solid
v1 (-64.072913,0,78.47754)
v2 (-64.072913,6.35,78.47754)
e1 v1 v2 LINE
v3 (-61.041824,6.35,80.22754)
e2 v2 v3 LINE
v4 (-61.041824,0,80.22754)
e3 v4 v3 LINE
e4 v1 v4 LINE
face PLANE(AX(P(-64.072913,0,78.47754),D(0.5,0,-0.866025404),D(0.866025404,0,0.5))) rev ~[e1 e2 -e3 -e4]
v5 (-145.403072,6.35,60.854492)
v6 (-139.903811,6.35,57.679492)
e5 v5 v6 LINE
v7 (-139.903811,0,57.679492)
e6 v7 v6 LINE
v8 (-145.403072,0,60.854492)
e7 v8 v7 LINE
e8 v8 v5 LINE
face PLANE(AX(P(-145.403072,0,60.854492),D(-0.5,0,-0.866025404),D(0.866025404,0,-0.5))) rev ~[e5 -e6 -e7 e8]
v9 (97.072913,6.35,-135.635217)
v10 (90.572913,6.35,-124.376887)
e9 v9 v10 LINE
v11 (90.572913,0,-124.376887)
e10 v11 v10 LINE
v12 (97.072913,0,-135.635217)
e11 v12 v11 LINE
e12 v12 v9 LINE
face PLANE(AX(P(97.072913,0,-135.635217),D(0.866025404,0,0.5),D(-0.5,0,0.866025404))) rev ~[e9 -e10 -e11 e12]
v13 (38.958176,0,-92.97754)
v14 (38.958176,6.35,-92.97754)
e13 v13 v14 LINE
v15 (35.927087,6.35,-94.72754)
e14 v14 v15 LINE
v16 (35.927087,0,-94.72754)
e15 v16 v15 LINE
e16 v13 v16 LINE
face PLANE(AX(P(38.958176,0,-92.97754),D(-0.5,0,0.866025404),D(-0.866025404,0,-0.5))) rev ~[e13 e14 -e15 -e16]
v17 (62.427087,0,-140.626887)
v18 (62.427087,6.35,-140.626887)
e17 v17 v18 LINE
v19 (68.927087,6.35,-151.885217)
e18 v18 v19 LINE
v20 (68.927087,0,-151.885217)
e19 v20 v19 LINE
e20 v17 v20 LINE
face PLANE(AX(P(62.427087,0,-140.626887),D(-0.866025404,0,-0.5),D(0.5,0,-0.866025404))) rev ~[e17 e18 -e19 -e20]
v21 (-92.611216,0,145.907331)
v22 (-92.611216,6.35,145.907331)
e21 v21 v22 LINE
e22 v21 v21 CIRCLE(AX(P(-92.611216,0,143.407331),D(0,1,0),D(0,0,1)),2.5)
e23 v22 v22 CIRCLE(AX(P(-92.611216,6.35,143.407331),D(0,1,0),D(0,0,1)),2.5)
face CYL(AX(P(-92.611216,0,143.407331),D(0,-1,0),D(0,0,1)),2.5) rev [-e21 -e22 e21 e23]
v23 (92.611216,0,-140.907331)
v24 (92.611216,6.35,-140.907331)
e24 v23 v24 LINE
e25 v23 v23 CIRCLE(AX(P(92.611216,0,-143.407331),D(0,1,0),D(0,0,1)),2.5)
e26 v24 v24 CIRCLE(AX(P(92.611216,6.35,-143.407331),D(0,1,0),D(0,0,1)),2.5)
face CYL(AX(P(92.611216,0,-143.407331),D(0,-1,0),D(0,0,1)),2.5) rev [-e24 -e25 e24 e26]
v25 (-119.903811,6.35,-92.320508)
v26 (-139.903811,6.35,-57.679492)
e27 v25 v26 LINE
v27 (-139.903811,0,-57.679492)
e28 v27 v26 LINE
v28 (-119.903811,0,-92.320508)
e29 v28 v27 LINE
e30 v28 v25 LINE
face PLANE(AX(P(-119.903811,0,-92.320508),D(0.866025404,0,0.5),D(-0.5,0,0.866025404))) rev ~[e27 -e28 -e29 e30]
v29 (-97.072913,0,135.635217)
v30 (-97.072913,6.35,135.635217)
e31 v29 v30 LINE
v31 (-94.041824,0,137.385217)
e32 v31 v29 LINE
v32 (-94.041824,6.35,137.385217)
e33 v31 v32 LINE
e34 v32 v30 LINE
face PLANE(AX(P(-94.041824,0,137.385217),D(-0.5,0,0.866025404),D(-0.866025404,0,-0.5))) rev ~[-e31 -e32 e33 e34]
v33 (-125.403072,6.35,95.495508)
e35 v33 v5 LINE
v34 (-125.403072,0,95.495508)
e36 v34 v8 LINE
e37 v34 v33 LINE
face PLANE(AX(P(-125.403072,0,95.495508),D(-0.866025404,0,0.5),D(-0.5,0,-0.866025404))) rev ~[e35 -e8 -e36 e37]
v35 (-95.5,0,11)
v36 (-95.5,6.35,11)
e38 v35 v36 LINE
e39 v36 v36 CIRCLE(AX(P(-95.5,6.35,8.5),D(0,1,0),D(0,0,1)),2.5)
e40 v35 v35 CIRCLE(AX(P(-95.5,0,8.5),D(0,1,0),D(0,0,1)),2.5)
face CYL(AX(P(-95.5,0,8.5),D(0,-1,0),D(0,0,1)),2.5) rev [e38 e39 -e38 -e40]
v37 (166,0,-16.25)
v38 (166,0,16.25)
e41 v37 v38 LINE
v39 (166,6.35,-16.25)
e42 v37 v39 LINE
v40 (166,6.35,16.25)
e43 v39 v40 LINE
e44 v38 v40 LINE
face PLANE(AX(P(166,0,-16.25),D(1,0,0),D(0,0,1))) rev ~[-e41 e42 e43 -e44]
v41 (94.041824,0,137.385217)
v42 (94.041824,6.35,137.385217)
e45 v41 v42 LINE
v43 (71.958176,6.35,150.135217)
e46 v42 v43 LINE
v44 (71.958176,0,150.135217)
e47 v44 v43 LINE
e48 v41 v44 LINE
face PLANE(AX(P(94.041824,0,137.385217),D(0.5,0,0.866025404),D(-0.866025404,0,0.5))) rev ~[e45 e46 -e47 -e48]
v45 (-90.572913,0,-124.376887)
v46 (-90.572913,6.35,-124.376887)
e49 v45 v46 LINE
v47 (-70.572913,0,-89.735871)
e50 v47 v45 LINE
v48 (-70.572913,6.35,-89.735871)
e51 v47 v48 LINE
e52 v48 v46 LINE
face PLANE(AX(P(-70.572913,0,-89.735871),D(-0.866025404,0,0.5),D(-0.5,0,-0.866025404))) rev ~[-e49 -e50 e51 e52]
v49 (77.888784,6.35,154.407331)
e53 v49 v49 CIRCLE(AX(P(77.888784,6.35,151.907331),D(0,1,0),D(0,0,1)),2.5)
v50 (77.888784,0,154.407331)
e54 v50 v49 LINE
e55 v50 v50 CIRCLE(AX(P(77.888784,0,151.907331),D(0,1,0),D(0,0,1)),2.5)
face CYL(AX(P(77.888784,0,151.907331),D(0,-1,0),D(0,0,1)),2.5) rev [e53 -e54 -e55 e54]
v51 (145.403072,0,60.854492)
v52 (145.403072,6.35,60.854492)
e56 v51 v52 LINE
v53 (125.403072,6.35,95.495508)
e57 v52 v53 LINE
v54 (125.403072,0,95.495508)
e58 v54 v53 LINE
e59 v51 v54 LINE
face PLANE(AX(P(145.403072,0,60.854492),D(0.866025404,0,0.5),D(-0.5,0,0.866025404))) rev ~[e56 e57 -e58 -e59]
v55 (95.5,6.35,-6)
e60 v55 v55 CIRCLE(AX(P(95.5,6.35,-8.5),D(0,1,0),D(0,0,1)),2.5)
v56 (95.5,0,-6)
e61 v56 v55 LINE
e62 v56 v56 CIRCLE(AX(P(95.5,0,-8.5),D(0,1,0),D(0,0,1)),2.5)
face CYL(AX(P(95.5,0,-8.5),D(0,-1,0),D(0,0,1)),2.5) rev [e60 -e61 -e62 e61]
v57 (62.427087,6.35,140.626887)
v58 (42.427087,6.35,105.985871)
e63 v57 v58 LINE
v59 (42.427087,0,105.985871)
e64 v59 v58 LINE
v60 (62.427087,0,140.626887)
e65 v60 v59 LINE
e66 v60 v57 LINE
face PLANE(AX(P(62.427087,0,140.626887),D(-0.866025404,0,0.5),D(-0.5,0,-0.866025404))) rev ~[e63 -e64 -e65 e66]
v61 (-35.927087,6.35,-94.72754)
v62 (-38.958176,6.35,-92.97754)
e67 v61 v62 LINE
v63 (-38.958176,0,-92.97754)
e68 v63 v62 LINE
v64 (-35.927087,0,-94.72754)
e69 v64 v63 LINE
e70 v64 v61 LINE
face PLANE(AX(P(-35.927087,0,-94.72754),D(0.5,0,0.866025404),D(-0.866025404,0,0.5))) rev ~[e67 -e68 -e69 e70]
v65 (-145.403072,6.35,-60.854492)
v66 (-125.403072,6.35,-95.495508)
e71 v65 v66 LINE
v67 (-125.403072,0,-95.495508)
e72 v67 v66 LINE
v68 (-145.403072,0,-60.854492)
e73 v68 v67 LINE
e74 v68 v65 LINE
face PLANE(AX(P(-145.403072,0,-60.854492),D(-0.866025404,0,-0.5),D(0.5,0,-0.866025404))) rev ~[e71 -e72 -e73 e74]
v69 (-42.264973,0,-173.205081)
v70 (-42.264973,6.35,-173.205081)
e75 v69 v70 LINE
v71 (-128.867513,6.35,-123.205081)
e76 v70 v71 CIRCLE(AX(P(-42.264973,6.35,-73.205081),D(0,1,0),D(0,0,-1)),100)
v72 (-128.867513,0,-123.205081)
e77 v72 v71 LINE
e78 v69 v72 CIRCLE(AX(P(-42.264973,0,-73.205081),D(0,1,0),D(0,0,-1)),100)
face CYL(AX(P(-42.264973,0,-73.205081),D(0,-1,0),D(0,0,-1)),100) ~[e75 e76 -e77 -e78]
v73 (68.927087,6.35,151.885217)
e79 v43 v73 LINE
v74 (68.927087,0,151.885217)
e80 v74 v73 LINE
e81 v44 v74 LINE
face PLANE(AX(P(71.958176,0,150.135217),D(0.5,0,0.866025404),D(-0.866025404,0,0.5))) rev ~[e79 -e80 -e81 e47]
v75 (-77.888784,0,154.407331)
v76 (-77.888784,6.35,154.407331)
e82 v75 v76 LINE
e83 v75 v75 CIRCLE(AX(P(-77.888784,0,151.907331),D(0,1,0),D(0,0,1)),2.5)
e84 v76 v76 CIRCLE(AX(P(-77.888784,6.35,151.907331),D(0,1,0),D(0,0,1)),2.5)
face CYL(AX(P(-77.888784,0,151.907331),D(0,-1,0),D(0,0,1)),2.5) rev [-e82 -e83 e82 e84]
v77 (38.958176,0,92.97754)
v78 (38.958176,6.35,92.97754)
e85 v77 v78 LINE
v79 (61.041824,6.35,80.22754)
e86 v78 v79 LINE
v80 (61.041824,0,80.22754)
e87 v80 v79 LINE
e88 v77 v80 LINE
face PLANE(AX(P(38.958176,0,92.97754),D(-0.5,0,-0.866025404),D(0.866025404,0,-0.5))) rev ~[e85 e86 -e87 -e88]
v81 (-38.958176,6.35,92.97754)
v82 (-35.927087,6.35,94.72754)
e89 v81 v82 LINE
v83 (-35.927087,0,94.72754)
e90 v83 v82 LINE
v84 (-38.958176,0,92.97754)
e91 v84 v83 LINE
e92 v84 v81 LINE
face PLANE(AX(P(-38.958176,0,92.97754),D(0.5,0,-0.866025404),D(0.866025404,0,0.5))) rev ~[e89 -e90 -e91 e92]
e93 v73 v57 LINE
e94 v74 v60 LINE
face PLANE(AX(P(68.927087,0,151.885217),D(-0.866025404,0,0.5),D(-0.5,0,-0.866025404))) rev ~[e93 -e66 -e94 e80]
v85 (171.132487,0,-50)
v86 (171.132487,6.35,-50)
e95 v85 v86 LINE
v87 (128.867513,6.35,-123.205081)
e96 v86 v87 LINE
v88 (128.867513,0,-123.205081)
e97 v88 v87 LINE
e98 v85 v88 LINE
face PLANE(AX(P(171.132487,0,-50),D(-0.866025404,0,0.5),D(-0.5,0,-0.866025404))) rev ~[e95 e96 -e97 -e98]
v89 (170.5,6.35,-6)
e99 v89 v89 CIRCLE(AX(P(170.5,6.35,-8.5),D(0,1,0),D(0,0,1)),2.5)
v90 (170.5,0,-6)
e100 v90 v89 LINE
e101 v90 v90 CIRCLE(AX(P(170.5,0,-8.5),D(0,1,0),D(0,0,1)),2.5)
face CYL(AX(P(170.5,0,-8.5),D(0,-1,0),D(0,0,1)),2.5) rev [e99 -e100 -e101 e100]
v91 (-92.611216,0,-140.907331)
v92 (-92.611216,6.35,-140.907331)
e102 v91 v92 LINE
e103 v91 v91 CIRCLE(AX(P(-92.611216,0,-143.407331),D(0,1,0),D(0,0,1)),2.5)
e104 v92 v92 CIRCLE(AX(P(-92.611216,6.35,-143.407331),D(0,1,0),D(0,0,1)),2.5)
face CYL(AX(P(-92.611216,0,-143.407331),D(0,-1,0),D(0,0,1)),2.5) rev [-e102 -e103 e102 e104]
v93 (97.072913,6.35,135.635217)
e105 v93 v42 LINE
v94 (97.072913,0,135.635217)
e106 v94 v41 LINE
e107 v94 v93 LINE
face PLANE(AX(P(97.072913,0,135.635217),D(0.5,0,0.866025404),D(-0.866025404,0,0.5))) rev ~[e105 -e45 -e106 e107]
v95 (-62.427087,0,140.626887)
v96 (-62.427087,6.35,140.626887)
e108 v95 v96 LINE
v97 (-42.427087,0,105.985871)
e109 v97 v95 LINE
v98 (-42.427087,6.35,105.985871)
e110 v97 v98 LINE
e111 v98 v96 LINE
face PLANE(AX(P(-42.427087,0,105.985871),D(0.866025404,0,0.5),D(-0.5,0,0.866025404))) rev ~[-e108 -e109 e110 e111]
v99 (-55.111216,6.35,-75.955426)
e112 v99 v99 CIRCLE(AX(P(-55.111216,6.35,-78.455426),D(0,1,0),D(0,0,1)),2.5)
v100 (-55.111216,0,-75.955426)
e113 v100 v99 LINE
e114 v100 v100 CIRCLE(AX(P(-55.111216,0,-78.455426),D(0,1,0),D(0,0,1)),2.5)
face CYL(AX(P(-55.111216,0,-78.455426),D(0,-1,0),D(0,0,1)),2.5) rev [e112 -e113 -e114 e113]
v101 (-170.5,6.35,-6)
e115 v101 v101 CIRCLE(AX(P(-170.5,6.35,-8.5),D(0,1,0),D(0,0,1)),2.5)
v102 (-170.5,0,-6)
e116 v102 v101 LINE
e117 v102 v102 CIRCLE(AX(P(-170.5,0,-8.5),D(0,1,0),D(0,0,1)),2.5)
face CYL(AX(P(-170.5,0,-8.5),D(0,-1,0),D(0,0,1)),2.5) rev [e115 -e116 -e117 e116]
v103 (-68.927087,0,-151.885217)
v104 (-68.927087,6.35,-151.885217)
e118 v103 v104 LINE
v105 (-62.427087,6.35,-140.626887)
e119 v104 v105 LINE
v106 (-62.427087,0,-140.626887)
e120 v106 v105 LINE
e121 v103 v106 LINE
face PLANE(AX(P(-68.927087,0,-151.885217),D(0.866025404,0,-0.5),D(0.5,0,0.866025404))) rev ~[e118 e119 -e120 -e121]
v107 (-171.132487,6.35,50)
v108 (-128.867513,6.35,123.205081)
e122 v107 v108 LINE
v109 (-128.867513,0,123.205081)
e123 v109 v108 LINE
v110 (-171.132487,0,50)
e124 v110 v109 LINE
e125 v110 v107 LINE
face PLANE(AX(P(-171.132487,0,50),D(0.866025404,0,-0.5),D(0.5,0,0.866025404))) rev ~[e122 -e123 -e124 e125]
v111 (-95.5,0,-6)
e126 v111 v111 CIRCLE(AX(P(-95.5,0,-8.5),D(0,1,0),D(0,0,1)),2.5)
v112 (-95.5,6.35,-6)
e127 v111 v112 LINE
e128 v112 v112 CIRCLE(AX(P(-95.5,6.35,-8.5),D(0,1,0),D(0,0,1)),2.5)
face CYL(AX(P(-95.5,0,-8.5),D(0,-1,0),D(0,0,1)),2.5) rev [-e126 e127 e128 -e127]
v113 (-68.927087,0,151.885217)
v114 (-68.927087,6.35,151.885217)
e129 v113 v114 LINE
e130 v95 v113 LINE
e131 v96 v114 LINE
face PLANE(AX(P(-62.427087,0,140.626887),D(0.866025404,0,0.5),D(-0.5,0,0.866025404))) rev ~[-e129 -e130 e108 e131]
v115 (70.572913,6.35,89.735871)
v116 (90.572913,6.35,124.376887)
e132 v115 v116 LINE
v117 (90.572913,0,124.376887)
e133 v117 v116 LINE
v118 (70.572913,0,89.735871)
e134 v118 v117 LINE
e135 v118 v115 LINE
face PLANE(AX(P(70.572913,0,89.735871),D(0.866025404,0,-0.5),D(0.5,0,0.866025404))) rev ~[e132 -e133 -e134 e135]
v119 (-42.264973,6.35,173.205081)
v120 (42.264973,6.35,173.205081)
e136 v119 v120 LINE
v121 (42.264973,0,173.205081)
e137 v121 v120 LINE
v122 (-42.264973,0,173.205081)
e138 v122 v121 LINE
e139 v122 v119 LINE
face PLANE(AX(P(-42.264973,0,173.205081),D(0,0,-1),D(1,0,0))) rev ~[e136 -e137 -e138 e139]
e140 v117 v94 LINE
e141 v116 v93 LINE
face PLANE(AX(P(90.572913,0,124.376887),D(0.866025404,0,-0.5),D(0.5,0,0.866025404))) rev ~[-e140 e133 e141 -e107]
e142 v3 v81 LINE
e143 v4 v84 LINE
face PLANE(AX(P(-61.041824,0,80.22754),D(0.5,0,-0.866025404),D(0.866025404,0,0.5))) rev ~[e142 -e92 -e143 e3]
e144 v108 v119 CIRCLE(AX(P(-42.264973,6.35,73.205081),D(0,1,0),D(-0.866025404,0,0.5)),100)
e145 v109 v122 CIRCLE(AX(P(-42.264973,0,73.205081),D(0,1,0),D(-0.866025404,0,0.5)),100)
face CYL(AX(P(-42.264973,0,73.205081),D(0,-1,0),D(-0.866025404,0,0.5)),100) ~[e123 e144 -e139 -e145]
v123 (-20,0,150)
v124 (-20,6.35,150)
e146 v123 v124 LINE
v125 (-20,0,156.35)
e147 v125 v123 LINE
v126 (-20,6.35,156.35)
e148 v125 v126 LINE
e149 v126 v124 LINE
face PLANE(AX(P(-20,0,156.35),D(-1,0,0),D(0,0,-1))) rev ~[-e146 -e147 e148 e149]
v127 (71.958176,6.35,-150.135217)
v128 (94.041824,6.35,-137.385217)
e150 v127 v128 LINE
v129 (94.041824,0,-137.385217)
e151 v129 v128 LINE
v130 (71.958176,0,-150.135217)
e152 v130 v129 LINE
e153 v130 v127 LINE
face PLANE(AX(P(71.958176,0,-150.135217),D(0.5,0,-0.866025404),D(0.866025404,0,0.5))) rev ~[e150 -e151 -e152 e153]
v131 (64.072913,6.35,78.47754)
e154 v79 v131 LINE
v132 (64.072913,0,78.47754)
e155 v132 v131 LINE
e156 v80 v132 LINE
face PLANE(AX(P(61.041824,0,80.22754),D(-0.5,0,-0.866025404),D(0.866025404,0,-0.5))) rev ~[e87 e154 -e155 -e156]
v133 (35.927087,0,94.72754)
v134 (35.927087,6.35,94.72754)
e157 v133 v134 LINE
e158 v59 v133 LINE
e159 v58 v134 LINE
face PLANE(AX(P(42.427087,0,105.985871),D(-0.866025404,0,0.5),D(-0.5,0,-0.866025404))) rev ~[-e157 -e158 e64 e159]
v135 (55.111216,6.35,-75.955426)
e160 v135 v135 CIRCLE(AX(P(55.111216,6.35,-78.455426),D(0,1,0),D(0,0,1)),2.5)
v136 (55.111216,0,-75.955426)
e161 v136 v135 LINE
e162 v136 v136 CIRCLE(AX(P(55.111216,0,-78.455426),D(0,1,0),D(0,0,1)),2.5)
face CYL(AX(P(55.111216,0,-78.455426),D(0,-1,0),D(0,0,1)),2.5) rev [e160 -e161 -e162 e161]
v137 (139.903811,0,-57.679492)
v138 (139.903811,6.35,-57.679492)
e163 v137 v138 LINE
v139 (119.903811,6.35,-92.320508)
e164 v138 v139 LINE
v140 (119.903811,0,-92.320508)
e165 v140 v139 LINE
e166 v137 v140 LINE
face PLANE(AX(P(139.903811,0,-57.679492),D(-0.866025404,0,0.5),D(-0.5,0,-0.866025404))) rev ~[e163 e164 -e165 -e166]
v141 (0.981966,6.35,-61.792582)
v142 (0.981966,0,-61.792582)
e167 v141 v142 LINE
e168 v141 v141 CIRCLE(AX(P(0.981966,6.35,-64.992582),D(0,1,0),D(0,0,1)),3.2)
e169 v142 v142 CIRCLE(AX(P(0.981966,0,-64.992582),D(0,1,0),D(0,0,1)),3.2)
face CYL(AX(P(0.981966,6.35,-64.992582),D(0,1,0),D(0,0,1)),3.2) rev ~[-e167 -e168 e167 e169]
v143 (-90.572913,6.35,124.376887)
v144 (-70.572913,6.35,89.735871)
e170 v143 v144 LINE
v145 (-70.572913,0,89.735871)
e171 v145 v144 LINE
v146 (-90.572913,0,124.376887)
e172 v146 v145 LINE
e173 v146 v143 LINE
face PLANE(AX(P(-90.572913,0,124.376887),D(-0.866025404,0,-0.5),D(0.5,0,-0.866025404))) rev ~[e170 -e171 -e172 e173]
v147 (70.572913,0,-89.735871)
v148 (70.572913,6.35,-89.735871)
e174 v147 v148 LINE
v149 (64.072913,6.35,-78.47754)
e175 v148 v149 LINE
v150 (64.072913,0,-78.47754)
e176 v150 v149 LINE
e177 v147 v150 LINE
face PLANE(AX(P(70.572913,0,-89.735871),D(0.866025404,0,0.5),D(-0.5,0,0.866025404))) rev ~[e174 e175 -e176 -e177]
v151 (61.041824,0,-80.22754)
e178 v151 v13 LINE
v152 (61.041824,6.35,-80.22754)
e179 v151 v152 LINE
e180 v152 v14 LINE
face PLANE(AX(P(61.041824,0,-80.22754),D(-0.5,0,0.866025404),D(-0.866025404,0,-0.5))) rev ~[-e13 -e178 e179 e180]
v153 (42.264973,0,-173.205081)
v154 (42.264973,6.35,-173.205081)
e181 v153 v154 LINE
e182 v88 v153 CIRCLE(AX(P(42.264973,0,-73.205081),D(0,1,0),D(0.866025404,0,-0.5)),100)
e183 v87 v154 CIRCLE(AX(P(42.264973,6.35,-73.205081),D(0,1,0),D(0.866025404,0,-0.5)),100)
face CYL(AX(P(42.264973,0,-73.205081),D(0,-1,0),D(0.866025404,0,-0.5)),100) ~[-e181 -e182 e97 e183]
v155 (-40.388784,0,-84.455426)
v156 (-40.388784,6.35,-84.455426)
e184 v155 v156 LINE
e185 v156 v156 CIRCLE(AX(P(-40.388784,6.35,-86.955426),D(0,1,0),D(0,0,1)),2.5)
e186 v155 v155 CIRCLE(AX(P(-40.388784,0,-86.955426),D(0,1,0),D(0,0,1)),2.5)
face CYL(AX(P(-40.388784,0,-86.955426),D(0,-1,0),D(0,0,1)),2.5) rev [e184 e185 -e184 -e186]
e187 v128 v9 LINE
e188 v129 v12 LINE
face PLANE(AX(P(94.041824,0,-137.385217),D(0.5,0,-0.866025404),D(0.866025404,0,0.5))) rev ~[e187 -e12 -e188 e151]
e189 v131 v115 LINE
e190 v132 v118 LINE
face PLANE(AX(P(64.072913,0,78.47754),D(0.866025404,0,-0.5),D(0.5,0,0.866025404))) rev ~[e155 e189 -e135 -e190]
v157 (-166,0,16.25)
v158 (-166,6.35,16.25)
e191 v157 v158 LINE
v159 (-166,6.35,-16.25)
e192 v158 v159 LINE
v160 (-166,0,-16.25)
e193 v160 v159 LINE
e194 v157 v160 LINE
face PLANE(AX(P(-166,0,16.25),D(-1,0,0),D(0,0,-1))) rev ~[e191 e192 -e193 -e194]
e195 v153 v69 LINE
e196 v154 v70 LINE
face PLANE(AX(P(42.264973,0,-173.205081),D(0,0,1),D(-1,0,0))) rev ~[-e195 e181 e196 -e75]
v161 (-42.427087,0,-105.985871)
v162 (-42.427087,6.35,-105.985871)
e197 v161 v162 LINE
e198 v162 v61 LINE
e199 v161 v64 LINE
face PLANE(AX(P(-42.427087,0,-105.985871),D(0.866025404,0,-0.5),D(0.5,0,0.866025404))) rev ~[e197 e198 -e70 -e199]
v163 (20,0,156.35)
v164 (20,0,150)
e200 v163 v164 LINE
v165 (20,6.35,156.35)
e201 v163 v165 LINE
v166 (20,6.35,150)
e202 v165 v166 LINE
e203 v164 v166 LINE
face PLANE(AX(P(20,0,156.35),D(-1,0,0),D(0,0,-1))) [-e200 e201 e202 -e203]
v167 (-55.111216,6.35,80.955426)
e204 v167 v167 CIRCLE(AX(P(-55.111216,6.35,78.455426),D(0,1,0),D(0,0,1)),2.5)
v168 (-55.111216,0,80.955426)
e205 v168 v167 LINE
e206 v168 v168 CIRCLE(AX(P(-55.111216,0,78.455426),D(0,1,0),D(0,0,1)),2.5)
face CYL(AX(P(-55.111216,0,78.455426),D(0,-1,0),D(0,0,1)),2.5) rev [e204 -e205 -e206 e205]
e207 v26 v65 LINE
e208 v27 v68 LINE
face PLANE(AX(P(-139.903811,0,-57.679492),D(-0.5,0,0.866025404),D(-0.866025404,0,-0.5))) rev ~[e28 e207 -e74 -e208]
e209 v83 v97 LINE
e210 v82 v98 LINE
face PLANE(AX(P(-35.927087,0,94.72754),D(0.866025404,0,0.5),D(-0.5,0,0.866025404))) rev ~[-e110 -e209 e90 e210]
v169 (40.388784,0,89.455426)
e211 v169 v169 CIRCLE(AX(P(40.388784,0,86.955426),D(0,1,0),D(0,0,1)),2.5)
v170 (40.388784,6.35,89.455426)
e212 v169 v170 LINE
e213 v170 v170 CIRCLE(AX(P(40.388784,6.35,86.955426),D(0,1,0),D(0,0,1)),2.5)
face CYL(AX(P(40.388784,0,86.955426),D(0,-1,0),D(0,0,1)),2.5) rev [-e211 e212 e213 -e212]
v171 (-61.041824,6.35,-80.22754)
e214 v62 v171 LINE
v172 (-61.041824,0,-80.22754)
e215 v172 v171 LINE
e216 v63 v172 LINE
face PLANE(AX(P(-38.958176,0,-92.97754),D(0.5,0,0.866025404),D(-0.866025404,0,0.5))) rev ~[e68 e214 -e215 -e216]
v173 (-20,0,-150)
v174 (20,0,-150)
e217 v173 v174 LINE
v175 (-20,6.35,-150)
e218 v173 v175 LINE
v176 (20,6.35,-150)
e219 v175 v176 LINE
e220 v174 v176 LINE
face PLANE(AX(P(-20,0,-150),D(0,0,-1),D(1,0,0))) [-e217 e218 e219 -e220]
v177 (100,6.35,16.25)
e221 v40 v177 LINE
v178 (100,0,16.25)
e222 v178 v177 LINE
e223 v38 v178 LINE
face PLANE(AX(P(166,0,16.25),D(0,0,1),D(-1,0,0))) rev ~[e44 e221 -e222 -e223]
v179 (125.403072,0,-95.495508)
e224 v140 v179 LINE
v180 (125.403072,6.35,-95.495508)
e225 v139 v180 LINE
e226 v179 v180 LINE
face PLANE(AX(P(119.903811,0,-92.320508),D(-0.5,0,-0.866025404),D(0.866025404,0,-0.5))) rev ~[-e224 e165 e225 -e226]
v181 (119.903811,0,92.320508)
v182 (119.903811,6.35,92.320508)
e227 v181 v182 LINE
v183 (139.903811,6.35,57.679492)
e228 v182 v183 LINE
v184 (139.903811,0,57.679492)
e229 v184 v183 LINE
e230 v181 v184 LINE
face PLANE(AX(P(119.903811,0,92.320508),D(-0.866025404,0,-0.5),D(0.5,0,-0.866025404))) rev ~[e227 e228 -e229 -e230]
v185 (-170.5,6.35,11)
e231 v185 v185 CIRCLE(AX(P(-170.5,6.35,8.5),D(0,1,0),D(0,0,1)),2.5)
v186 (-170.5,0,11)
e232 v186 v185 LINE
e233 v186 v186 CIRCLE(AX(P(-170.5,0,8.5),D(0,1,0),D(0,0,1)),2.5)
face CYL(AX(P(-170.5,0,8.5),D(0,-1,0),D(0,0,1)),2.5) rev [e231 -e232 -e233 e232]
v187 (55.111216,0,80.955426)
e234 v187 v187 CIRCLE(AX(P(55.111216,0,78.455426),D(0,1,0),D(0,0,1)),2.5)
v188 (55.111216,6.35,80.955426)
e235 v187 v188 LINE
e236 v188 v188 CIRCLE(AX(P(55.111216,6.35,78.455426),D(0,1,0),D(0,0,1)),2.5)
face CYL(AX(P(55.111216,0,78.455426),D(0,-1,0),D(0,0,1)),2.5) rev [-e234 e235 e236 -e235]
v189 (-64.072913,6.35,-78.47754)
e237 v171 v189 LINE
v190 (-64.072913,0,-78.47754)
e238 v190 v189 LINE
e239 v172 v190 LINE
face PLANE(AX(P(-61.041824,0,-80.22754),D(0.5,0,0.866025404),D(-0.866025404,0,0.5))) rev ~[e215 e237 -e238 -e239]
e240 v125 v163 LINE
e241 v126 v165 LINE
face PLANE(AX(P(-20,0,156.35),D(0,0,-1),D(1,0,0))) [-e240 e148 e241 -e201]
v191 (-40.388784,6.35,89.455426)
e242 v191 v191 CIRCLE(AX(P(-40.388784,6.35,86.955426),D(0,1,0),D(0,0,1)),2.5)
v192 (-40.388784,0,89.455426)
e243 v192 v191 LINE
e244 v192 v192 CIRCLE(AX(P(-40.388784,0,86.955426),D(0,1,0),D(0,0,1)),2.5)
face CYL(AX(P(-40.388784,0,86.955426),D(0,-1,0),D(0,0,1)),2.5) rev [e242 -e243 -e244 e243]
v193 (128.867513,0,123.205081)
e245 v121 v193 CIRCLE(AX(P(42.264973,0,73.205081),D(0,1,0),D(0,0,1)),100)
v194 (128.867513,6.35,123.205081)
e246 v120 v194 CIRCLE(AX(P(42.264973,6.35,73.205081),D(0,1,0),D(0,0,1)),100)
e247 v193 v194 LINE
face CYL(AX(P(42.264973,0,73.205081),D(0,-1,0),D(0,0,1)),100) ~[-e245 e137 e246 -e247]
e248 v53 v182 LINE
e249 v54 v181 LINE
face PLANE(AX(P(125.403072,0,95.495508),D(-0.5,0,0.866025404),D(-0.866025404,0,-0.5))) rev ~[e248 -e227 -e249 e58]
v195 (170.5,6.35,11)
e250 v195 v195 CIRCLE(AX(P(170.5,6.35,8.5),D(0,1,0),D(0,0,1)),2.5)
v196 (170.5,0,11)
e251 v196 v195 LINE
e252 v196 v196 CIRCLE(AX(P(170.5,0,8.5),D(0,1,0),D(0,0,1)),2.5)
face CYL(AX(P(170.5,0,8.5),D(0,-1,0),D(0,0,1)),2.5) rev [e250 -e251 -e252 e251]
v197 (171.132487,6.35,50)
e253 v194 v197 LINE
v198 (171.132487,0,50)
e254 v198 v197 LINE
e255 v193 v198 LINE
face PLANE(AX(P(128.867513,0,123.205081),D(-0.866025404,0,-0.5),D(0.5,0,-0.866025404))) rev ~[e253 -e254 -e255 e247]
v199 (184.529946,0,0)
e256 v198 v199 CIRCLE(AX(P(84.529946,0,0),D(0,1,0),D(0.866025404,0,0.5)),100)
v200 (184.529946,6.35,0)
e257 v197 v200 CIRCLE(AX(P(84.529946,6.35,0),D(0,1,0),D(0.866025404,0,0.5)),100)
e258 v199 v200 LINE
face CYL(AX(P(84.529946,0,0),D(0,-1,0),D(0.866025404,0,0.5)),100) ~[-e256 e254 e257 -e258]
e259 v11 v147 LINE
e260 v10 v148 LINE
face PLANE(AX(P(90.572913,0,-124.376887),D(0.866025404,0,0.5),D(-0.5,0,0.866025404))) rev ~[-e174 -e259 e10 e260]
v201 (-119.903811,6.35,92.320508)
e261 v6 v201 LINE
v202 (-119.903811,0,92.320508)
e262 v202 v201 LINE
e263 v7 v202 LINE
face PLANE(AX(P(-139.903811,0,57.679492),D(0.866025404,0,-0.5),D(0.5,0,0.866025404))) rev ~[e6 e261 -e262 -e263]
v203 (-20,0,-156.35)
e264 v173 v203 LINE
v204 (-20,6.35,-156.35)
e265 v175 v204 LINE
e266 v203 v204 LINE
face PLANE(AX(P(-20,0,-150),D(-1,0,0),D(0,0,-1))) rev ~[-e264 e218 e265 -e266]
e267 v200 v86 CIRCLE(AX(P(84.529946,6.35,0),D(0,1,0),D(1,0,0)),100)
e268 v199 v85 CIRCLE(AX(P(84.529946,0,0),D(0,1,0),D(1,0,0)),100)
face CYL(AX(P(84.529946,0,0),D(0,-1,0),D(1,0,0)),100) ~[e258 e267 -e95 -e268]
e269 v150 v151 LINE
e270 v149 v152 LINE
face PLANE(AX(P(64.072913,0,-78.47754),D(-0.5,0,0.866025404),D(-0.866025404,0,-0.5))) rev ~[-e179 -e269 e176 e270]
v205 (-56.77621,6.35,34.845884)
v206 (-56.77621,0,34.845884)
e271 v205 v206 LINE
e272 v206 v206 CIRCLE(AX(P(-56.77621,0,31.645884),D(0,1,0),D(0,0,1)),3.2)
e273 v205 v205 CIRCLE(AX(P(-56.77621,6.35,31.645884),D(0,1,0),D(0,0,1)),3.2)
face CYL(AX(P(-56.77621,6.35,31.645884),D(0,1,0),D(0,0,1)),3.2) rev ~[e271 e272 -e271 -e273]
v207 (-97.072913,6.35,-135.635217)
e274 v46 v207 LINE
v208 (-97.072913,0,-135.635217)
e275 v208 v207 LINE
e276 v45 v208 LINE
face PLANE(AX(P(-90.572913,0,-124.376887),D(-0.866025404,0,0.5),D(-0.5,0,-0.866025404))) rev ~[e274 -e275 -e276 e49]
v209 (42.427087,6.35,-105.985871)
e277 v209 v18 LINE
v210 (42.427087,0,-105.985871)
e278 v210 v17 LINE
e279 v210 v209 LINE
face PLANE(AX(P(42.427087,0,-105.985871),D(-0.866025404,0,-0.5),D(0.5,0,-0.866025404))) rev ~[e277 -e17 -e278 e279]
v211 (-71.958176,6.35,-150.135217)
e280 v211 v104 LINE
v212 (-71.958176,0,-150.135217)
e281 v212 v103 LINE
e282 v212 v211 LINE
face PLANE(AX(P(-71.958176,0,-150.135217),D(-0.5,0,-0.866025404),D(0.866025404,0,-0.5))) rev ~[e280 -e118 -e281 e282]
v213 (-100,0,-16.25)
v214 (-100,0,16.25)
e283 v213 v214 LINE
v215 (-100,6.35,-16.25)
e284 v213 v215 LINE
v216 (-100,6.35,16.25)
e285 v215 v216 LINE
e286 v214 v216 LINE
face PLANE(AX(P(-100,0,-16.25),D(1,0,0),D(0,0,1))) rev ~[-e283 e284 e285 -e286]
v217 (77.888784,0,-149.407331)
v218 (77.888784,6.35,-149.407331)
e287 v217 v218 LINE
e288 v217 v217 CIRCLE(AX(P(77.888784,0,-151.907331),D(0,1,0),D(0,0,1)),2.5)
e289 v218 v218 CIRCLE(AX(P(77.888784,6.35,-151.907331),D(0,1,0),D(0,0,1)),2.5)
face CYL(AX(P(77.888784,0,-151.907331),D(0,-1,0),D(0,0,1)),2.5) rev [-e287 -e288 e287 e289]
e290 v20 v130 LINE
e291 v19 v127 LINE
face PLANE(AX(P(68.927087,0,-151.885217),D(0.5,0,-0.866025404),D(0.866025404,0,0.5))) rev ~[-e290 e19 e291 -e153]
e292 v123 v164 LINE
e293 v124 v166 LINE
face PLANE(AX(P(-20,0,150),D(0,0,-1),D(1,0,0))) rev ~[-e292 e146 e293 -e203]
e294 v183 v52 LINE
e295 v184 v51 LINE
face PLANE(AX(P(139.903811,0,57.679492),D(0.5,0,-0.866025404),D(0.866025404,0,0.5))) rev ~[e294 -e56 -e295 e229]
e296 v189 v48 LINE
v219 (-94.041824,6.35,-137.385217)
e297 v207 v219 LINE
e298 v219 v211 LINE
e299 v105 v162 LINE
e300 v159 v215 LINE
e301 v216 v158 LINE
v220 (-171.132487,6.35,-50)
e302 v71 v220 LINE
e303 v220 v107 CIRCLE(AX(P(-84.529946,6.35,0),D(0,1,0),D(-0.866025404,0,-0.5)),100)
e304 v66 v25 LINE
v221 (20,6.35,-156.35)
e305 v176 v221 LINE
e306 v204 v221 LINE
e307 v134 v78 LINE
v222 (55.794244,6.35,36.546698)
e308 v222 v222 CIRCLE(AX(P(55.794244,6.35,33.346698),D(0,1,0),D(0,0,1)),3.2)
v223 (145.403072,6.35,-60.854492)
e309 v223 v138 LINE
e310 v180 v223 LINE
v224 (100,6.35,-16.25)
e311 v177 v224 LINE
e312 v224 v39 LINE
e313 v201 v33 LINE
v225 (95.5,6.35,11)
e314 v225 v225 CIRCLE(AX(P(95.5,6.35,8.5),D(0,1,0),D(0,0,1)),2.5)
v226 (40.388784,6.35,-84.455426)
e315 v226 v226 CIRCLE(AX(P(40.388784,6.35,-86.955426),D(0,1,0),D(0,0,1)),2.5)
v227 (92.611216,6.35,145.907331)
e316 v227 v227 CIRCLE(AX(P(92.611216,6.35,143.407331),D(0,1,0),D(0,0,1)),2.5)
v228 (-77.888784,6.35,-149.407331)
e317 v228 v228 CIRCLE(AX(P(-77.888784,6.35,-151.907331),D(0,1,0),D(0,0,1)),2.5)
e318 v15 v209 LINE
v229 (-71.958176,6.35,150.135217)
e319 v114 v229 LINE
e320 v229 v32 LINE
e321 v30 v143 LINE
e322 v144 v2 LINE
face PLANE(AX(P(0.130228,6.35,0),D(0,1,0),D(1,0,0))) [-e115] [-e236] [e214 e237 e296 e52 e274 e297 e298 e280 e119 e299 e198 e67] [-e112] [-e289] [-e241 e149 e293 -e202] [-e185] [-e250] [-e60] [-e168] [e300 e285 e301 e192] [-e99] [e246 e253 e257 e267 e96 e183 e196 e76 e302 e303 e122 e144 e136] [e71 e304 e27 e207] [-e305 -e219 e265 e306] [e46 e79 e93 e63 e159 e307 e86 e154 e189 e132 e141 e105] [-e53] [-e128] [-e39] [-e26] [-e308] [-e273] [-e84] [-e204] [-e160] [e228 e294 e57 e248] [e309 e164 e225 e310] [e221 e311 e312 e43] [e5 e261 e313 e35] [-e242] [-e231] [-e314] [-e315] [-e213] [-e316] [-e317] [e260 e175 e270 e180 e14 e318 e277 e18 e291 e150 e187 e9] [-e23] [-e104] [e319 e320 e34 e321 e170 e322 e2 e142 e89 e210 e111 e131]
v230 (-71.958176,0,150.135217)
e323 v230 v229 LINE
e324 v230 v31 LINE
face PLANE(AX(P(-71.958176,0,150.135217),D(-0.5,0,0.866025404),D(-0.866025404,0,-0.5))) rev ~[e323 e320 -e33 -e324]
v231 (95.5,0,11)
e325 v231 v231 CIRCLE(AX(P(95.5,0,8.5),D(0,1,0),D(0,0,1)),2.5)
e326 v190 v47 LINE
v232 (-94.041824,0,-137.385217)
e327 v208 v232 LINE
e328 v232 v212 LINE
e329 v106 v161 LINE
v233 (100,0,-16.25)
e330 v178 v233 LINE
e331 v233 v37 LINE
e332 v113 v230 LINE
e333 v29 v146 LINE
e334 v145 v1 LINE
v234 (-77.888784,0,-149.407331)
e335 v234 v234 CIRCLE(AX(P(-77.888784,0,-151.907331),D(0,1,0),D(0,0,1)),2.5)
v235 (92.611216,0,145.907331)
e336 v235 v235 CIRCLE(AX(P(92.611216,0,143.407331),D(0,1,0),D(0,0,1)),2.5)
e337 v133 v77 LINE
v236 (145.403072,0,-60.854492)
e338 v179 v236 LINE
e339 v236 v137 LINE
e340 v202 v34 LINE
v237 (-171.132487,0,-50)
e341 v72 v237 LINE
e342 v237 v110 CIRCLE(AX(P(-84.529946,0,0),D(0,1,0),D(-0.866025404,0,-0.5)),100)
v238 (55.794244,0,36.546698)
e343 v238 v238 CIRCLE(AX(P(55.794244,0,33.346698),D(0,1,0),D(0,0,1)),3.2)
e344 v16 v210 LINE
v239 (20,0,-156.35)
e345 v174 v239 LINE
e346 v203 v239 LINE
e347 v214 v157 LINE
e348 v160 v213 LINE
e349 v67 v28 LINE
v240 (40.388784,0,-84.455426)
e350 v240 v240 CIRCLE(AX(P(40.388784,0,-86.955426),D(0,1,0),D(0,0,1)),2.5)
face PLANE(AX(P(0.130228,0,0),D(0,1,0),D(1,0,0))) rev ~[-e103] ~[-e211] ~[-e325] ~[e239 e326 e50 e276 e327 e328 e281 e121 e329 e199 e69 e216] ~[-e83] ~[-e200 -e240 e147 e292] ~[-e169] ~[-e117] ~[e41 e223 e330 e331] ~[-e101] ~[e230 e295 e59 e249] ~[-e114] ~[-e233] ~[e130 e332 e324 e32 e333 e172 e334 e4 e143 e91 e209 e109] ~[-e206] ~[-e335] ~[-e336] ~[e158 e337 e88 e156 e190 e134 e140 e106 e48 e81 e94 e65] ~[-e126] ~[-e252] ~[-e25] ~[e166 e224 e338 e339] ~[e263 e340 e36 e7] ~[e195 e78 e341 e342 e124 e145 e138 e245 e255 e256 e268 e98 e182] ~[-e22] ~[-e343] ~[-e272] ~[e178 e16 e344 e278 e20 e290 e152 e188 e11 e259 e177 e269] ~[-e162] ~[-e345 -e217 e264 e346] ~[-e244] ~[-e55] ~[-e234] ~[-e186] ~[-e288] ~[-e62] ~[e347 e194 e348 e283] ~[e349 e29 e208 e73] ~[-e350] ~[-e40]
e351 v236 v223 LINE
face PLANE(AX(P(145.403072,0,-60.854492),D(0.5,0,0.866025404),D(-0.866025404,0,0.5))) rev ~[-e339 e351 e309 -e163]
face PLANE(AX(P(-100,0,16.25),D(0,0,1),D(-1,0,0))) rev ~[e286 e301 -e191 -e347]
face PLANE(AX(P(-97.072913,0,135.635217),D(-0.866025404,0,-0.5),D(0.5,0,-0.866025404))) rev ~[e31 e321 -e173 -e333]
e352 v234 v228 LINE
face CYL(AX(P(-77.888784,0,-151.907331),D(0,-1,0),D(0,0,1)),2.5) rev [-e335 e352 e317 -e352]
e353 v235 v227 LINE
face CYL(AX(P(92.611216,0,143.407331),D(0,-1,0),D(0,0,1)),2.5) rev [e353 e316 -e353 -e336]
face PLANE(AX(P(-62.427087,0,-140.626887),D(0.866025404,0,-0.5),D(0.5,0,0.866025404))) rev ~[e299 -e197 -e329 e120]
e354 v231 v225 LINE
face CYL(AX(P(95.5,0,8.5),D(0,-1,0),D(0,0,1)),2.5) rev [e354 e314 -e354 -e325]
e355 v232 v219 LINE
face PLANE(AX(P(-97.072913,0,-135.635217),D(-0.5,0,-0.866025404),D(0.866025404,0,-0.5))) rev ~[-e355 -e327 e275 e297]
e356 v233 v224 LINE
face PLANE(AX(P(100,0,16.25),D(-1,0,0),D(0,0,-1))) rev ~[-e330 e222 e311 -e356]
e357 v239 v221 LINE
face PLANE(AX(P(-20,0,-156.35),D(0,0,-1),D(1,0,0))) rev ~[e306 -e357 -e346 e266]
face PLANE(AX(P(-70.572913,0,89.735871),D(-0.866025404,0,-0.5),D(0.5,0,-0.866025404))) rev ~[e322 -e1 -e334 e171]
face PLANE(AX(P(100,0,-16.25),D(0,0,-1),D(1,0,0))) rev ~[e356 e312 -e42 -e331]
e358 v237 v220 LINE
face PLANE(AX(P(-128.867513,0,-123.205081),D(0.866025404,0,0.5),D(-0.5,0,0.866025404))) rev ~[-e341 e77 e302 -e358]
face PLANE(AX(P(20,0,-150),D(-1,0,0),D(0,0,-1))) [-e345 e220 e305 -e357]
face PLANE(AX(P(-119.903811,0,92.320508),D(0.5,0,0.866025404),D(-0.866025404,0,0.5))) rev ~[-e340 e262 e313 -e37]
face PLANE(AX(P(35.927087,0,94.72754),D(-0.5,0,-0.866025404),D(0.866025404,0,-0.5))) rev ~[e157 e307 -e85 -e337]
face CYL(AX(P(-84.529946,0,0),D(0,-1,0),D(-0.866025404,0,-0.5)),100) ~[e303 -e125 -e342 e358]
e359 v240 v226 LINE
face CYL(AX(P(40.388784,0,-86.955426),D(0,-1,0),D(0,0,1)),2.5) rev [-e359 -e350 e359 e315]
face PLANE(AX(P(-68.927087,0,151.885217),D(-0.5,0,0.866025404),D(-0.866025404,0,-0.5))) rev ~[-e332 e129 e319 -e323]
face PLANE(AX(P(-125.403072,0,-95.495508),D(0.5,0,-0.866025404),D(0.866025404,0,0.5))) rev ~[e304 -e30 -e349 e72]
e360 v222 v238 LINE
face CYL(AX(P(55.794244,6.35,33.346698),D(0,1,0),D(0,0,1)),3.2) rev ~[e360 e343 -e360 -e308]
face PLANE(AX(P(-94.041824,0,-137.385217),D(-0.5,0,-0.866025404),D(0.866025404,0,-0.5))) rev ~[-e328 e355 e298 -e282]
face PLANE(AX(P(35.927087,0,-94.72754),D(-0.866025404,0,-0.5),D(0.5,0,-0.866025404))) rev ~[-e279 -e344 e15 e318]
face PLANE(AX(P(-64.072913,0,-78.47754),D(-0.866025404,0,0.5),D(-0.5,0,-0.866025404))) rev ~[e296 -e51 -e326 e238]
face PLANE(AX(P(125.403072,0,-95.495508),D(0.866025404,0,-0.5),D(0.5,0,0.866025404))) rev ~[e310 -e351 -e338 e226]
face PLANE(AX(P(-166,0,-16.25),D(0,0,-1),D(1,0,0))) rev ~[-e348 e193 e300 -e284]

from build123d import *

# Parameters (mm, degrees)
SKETCH1_R           = 2.5
SKETCH1_W           = 40
SKETCH1_H           = 6.35
BOSS_EXTRUDE1_DEPTH = 6.35
SKETCH2_R           = 3.2
CUT_EXTRUDE1_DEPTH  = 6.35


with BuildPart() as part:
    # Sketch1 → Boss-Extrude1 (new body)
    with BuildSketch(Plane(origin=(0, 0, 0), x_dir=(1, 0, 0), z_dir=(0, 1, 0))):
        with BuildLine():
            ThreePointArc((171.132486541, -50), (181.122528791, -25.88190451), (184.529946162, 0))
            ThreePointArc((184.529946162, 0), (181.122528791, 25.88190451), (171.132486541, 50))
            Line((171.132486541, 50), (128.867513459, 123.205080757))
            ThreePointArc((128.867513459, 123.205080757), (92.264973081, 159.807621135), (42.264973081, 173.205080757))
            Line((42.264973081, 173.205080757), (-42.264973081, 173.205080757))
            ThreePointArc((-42.264973081, 173.205080757), (-92.264973081, 159.807621135), (-128.867513459, 123.205080757))
            Line((-128.867513459, 123.205080757), (-171.132486541, 50))
            ThreePointArc((-171.132486541, 50), (-184.529946162, 0), (-171.132486541, -50))
            Line((-171.132486541, -50), (-128.867513459, -123.205080757))
            ThreePointArc((-128.867513459, -123.205080757), (-92.264973081, -159.807621135), (-42.264973081, -173.205080757))
            Line((-42.264973081, -173.205080757), (42.264973081, -173.205080757))
            ThreePointArc((42.264973081, -173.205080757), (92.264973081, -159.807621135), (128.867513459, -123.205080757))
            Line((128.867513459, -123.205080757), (171.132486541, -50))
        make_face()
        with Locations(Location((-92.611215932, -143.407331345, 0), (0, 0, 270))):
            Circle(SKETCH1_R, mode=Mode.SUBTRACT)
        with Locations(Location((-77.888784068, -151.907331345, 0), (0, 0, 270))):
            Circle(SKETCH1_R, mode=Mode.SUBTRACT)
        Polygon((-38.958176102, -92.977540378), (-35.927087189, -94.727540378), (-42.427087189, -105.985870628), (-62.427087189, -140.626886779), (-68.927087189, -151.885217028), (-71.958176102, -150.135217028), (-94.041823898, -137.385217028), (-97.072912811, -135.635217028), (-90.572912811, -124.376886779), (-70.572912811, -89.735870628), (-64.072912811, -78.477540378), (-61.041823898, -80.227540378), align=None, mode=Mode.SUBTRACT)
        with Locations(Location((-40.388784068, -86.955426061, 0), (0, 0, 270))):
            Circle(SKETCH1_R, mode=Mode.SUBTRACT)
        Polygon((-145.403071882, -60.854491924), (-139.903810568, -57.679491924), (-119.903810568, -92.320508076), (-125.403071882, -95.495508076), align=None, mode=Mode.SUBTRACT)
        with Locations(Location((-170.5, -8.5, 0), (0, 0, 270))):
            Circle(SKETCH1_R, mode=Mode.SUBTRACT)
        Polygon((-100, -12.75), (-100, -16.25), (-113, -16.25), (-153, -16.25), (-166, -16.25), (-166, -12.75), (-166, 12.75), (-166, 16.25), (-153, 16.25), (-113, 16.25), (-100, 16.25), (-100, 12.75), align=None, mode=Mode.SUBTRACT)
        with Locations(Location((-95.5, -8.5, 0), (0, 0, 270))):
            Circle(SKETCH1_R, mode=Mode.SUBTRACT)
        with Locations(Location((-55.111215932, -78.455426061, 0), (0, 0, 270))):
            Circle(SKETCH1_R, mode=Mode.SUBTRACT)
        with Locations((0, -153.175)):
            Rectangle(SKETCH1_W, SKETCH1_H, mode=Mode.SUBTRACT)
        with Locations(Location((77.888784068, -151.907331345, 0), (0, 0, 270))):
            Circle(SKETCH1_R, mode=Mode.SUBTRACT)
        with Locations(Location((40.388784068, -86.955426061, 0), (0, 0, 270))):
            Circle(SKETCH1_R, mode=Mode.SUBTRACT)
        Polygon((61.041823898, -80.227540378), (64.072912811, -78.477540378), (70.572912811, -89.735870628), (90.572912811, -124.376886779), (97.072912811, -135.635217028), (94.041823898, -137.385217028), (71.958176102, -150.135217028), (68.927087189, -151.885217028), (62.427087189, -140.626886779), (42.427087189, -105.985870628), (35.927087189, -94.727540378), (38.958176102, -92.977540378), align=None, mode=Mode.SUBTRACT)
        with Locations(Location((92.611215932, -143.407331345, 0), (0, 0, 270))):
            Circle(SKETCH1_R, mode=Mode.SUBTRACT)
        with Locations(Location((55.111215932, -78.455426061, 0), (0, 0, 270))):
            Circle(SKETCH1_R, mode=Mode.SUBTRACT)
        Polygon((125.403071882, -95.495508076), (119.903810568, -92.320508076), (139.903810568, -57.679491924), (145.403071882, -60.854491924), align=None, mode=Mode.SUBTRACT)
        with Locations(Location((95.5, -8.5, 0), (0, 0, 270))):
            Circle(SKETCH1_R, mode=Mode.SUBTRACT)
        with Locations(Location((170.5, -8.5, 0), (0, 0, 270))):
            Circle(SKETCH1_R, mode=Mode.SUBTRACT)
        with Locations(Location((-170.5, 8.5, 0), (0, 0, 270))):
            Circle(SKETCH1_R, mode=Mode.SUBTRACT)
        with Locations(Location((-95.5, 8.5, 0), (0, 0, 270))):
            Circle(SKETCH1_R, mode=Mode.SUBTRACT)
        Polygon((-125.403071882, 95.495508076), (-119.903810568, 92.320508076), (-139.903810568, 57.679491924), (-145.403071882, 60.854491924), align=None, mode=Mode.SUBTRACT)
        with Locations(Location((-55.111215932, 78.455426061, 0), (0, 0, 270))):
            Circle(SKETCH1_R, mode=Mode.SUBTRACT)
        with Locations(Location((-92.611215932, 143.407331345, 0), (0, 0, 270))):
            Circle(SKETCH1_R, mode=Mode.SUBTRACT)
        Polygon((-61.041823898, 80.227540378), (-64.072912811, 78.477540378), (-70.572912811, 89.735870628), (-90.572912811, 124.376886779), (-97.072912811, 135.635217028), (-94.041823898, 137.385217028), (-71.958176102, 150.135217028), (-68.927087189, 151.885217028), (-62.427087189, 140.626886779), (-42.427087189, 105.985870628), (-35.927087189, 94.727540378), (-38.958176102, 92.977540378), align=None, mode=Mode.SUBTRACT)
        with Locations(Location((-40.388784068, 86.955426061, 0), (0, 0, 270))):
            Circle(SKETCH1_R, mode=Mode.SUBTRACT)
        with Locations(Location((-77.888784068, 151.907331345, 0), (0, 0, 270))):
            Circle(SKETCH1_R, mode=Mode.SUBTRACT)
        with Locations(Location((55.111215932, 78.455426061, 0), (0, 0, 270))):
            Circle(SKETCH1_R, mode=Mode.SUBTRACT)
        with Locations(Location((95.5, 8.5, 0), (0, 0, 270))):
            Circle(SKETCH1_R, mode=Mode.SUBTRACT)
        Polygon((100, -12.75), (100, 0), (100, 12.75), (100, 16.25), (113, 16.25), (153, 16.25), (166, 16.25), (166, 12.75), (166, 0), (166, -12.75), (166, -16.25), (153, -16.25), (113, -16.25), (100, -16.25), align=None, mode=Mode.SUBTRACT)
        with Locations(Location((170.5, 8.5, 0), (0, 0, 270))):
            Circle(SKETCH1_R, mode=Mode.SUBTRACT)
        Polygon((145.403071882, 60.854491924), (139.903810568, 57.679491924), (119.903810568, 92.320508076), (125.403071882, 95.495508076), align=None, mode=Mode.SUBTRACT)
        with Locations(Location((40.388784068, 86.955426061, 0), (0, 0, 270))):
            Circle(SKETCH1_R, mode=Mode.SUBTRACT)
        Polygon((38.958176102, 92.977540378), (35.927087189, 94.727540378), (42.427087189, 105.985870628), (62.427087189, 140.626886779), (68.927087189, 151.885217028), (71.958176102, 150.135217028), (94.041823898, 137.385217028), (97.072912811, 135.635217028), (90.572912811, 124.376886779), (70.572912811, 89.735870628), (64.072912811, 78.477540378), (61.041823898, 80.227540378), align=None, mode=Mode.SUBTRACT)
        with Locations((0, 153.175)):
            Rectangle(SKETCH1_W, SKETCH1_H, mode=Mode.SUBTRACT)
        with Locations(Location((77.888784068, 151.907331345, 0), (0, 0, 270))):
            Circle(SKETCH1_R, mode=Mode.SUBTRACT)
        with Locations(Location((92.611215932, 143.407331345, 0), (0, 0, 270))):
            Circle(SKETCH1_R, mode=Mode.SUBTRACT)
    extrude(amount=BOSS_EXTRUDE1_DEPTH)

    # Sketch2 → Cut-Extrude1 (cut)
    with BuildSketch(Plane(origin=(0, 6.35, 0), x_dir=(1, 0, 0), z_dir=(0, 1, 0))):
        with Locations(Location((55.794244464, -33.346698257, 0), (0, 0, 270))):
            Circle(SKETCH2_R)
        with Locations(Location((-56.776210055, -31.645883963, 0), (0, 0, 270))):
            Circle(SKETCH2_R)
        with Locations(Location((0.981965591, 64.99258222, 0), (0, 0, 270))):
            Circle(SKETCH2_R)
    extrude(amount=-CUT_EXTRUDE1_DEPTH, mode=Mode.SUBTRACT)


solid = part.part
